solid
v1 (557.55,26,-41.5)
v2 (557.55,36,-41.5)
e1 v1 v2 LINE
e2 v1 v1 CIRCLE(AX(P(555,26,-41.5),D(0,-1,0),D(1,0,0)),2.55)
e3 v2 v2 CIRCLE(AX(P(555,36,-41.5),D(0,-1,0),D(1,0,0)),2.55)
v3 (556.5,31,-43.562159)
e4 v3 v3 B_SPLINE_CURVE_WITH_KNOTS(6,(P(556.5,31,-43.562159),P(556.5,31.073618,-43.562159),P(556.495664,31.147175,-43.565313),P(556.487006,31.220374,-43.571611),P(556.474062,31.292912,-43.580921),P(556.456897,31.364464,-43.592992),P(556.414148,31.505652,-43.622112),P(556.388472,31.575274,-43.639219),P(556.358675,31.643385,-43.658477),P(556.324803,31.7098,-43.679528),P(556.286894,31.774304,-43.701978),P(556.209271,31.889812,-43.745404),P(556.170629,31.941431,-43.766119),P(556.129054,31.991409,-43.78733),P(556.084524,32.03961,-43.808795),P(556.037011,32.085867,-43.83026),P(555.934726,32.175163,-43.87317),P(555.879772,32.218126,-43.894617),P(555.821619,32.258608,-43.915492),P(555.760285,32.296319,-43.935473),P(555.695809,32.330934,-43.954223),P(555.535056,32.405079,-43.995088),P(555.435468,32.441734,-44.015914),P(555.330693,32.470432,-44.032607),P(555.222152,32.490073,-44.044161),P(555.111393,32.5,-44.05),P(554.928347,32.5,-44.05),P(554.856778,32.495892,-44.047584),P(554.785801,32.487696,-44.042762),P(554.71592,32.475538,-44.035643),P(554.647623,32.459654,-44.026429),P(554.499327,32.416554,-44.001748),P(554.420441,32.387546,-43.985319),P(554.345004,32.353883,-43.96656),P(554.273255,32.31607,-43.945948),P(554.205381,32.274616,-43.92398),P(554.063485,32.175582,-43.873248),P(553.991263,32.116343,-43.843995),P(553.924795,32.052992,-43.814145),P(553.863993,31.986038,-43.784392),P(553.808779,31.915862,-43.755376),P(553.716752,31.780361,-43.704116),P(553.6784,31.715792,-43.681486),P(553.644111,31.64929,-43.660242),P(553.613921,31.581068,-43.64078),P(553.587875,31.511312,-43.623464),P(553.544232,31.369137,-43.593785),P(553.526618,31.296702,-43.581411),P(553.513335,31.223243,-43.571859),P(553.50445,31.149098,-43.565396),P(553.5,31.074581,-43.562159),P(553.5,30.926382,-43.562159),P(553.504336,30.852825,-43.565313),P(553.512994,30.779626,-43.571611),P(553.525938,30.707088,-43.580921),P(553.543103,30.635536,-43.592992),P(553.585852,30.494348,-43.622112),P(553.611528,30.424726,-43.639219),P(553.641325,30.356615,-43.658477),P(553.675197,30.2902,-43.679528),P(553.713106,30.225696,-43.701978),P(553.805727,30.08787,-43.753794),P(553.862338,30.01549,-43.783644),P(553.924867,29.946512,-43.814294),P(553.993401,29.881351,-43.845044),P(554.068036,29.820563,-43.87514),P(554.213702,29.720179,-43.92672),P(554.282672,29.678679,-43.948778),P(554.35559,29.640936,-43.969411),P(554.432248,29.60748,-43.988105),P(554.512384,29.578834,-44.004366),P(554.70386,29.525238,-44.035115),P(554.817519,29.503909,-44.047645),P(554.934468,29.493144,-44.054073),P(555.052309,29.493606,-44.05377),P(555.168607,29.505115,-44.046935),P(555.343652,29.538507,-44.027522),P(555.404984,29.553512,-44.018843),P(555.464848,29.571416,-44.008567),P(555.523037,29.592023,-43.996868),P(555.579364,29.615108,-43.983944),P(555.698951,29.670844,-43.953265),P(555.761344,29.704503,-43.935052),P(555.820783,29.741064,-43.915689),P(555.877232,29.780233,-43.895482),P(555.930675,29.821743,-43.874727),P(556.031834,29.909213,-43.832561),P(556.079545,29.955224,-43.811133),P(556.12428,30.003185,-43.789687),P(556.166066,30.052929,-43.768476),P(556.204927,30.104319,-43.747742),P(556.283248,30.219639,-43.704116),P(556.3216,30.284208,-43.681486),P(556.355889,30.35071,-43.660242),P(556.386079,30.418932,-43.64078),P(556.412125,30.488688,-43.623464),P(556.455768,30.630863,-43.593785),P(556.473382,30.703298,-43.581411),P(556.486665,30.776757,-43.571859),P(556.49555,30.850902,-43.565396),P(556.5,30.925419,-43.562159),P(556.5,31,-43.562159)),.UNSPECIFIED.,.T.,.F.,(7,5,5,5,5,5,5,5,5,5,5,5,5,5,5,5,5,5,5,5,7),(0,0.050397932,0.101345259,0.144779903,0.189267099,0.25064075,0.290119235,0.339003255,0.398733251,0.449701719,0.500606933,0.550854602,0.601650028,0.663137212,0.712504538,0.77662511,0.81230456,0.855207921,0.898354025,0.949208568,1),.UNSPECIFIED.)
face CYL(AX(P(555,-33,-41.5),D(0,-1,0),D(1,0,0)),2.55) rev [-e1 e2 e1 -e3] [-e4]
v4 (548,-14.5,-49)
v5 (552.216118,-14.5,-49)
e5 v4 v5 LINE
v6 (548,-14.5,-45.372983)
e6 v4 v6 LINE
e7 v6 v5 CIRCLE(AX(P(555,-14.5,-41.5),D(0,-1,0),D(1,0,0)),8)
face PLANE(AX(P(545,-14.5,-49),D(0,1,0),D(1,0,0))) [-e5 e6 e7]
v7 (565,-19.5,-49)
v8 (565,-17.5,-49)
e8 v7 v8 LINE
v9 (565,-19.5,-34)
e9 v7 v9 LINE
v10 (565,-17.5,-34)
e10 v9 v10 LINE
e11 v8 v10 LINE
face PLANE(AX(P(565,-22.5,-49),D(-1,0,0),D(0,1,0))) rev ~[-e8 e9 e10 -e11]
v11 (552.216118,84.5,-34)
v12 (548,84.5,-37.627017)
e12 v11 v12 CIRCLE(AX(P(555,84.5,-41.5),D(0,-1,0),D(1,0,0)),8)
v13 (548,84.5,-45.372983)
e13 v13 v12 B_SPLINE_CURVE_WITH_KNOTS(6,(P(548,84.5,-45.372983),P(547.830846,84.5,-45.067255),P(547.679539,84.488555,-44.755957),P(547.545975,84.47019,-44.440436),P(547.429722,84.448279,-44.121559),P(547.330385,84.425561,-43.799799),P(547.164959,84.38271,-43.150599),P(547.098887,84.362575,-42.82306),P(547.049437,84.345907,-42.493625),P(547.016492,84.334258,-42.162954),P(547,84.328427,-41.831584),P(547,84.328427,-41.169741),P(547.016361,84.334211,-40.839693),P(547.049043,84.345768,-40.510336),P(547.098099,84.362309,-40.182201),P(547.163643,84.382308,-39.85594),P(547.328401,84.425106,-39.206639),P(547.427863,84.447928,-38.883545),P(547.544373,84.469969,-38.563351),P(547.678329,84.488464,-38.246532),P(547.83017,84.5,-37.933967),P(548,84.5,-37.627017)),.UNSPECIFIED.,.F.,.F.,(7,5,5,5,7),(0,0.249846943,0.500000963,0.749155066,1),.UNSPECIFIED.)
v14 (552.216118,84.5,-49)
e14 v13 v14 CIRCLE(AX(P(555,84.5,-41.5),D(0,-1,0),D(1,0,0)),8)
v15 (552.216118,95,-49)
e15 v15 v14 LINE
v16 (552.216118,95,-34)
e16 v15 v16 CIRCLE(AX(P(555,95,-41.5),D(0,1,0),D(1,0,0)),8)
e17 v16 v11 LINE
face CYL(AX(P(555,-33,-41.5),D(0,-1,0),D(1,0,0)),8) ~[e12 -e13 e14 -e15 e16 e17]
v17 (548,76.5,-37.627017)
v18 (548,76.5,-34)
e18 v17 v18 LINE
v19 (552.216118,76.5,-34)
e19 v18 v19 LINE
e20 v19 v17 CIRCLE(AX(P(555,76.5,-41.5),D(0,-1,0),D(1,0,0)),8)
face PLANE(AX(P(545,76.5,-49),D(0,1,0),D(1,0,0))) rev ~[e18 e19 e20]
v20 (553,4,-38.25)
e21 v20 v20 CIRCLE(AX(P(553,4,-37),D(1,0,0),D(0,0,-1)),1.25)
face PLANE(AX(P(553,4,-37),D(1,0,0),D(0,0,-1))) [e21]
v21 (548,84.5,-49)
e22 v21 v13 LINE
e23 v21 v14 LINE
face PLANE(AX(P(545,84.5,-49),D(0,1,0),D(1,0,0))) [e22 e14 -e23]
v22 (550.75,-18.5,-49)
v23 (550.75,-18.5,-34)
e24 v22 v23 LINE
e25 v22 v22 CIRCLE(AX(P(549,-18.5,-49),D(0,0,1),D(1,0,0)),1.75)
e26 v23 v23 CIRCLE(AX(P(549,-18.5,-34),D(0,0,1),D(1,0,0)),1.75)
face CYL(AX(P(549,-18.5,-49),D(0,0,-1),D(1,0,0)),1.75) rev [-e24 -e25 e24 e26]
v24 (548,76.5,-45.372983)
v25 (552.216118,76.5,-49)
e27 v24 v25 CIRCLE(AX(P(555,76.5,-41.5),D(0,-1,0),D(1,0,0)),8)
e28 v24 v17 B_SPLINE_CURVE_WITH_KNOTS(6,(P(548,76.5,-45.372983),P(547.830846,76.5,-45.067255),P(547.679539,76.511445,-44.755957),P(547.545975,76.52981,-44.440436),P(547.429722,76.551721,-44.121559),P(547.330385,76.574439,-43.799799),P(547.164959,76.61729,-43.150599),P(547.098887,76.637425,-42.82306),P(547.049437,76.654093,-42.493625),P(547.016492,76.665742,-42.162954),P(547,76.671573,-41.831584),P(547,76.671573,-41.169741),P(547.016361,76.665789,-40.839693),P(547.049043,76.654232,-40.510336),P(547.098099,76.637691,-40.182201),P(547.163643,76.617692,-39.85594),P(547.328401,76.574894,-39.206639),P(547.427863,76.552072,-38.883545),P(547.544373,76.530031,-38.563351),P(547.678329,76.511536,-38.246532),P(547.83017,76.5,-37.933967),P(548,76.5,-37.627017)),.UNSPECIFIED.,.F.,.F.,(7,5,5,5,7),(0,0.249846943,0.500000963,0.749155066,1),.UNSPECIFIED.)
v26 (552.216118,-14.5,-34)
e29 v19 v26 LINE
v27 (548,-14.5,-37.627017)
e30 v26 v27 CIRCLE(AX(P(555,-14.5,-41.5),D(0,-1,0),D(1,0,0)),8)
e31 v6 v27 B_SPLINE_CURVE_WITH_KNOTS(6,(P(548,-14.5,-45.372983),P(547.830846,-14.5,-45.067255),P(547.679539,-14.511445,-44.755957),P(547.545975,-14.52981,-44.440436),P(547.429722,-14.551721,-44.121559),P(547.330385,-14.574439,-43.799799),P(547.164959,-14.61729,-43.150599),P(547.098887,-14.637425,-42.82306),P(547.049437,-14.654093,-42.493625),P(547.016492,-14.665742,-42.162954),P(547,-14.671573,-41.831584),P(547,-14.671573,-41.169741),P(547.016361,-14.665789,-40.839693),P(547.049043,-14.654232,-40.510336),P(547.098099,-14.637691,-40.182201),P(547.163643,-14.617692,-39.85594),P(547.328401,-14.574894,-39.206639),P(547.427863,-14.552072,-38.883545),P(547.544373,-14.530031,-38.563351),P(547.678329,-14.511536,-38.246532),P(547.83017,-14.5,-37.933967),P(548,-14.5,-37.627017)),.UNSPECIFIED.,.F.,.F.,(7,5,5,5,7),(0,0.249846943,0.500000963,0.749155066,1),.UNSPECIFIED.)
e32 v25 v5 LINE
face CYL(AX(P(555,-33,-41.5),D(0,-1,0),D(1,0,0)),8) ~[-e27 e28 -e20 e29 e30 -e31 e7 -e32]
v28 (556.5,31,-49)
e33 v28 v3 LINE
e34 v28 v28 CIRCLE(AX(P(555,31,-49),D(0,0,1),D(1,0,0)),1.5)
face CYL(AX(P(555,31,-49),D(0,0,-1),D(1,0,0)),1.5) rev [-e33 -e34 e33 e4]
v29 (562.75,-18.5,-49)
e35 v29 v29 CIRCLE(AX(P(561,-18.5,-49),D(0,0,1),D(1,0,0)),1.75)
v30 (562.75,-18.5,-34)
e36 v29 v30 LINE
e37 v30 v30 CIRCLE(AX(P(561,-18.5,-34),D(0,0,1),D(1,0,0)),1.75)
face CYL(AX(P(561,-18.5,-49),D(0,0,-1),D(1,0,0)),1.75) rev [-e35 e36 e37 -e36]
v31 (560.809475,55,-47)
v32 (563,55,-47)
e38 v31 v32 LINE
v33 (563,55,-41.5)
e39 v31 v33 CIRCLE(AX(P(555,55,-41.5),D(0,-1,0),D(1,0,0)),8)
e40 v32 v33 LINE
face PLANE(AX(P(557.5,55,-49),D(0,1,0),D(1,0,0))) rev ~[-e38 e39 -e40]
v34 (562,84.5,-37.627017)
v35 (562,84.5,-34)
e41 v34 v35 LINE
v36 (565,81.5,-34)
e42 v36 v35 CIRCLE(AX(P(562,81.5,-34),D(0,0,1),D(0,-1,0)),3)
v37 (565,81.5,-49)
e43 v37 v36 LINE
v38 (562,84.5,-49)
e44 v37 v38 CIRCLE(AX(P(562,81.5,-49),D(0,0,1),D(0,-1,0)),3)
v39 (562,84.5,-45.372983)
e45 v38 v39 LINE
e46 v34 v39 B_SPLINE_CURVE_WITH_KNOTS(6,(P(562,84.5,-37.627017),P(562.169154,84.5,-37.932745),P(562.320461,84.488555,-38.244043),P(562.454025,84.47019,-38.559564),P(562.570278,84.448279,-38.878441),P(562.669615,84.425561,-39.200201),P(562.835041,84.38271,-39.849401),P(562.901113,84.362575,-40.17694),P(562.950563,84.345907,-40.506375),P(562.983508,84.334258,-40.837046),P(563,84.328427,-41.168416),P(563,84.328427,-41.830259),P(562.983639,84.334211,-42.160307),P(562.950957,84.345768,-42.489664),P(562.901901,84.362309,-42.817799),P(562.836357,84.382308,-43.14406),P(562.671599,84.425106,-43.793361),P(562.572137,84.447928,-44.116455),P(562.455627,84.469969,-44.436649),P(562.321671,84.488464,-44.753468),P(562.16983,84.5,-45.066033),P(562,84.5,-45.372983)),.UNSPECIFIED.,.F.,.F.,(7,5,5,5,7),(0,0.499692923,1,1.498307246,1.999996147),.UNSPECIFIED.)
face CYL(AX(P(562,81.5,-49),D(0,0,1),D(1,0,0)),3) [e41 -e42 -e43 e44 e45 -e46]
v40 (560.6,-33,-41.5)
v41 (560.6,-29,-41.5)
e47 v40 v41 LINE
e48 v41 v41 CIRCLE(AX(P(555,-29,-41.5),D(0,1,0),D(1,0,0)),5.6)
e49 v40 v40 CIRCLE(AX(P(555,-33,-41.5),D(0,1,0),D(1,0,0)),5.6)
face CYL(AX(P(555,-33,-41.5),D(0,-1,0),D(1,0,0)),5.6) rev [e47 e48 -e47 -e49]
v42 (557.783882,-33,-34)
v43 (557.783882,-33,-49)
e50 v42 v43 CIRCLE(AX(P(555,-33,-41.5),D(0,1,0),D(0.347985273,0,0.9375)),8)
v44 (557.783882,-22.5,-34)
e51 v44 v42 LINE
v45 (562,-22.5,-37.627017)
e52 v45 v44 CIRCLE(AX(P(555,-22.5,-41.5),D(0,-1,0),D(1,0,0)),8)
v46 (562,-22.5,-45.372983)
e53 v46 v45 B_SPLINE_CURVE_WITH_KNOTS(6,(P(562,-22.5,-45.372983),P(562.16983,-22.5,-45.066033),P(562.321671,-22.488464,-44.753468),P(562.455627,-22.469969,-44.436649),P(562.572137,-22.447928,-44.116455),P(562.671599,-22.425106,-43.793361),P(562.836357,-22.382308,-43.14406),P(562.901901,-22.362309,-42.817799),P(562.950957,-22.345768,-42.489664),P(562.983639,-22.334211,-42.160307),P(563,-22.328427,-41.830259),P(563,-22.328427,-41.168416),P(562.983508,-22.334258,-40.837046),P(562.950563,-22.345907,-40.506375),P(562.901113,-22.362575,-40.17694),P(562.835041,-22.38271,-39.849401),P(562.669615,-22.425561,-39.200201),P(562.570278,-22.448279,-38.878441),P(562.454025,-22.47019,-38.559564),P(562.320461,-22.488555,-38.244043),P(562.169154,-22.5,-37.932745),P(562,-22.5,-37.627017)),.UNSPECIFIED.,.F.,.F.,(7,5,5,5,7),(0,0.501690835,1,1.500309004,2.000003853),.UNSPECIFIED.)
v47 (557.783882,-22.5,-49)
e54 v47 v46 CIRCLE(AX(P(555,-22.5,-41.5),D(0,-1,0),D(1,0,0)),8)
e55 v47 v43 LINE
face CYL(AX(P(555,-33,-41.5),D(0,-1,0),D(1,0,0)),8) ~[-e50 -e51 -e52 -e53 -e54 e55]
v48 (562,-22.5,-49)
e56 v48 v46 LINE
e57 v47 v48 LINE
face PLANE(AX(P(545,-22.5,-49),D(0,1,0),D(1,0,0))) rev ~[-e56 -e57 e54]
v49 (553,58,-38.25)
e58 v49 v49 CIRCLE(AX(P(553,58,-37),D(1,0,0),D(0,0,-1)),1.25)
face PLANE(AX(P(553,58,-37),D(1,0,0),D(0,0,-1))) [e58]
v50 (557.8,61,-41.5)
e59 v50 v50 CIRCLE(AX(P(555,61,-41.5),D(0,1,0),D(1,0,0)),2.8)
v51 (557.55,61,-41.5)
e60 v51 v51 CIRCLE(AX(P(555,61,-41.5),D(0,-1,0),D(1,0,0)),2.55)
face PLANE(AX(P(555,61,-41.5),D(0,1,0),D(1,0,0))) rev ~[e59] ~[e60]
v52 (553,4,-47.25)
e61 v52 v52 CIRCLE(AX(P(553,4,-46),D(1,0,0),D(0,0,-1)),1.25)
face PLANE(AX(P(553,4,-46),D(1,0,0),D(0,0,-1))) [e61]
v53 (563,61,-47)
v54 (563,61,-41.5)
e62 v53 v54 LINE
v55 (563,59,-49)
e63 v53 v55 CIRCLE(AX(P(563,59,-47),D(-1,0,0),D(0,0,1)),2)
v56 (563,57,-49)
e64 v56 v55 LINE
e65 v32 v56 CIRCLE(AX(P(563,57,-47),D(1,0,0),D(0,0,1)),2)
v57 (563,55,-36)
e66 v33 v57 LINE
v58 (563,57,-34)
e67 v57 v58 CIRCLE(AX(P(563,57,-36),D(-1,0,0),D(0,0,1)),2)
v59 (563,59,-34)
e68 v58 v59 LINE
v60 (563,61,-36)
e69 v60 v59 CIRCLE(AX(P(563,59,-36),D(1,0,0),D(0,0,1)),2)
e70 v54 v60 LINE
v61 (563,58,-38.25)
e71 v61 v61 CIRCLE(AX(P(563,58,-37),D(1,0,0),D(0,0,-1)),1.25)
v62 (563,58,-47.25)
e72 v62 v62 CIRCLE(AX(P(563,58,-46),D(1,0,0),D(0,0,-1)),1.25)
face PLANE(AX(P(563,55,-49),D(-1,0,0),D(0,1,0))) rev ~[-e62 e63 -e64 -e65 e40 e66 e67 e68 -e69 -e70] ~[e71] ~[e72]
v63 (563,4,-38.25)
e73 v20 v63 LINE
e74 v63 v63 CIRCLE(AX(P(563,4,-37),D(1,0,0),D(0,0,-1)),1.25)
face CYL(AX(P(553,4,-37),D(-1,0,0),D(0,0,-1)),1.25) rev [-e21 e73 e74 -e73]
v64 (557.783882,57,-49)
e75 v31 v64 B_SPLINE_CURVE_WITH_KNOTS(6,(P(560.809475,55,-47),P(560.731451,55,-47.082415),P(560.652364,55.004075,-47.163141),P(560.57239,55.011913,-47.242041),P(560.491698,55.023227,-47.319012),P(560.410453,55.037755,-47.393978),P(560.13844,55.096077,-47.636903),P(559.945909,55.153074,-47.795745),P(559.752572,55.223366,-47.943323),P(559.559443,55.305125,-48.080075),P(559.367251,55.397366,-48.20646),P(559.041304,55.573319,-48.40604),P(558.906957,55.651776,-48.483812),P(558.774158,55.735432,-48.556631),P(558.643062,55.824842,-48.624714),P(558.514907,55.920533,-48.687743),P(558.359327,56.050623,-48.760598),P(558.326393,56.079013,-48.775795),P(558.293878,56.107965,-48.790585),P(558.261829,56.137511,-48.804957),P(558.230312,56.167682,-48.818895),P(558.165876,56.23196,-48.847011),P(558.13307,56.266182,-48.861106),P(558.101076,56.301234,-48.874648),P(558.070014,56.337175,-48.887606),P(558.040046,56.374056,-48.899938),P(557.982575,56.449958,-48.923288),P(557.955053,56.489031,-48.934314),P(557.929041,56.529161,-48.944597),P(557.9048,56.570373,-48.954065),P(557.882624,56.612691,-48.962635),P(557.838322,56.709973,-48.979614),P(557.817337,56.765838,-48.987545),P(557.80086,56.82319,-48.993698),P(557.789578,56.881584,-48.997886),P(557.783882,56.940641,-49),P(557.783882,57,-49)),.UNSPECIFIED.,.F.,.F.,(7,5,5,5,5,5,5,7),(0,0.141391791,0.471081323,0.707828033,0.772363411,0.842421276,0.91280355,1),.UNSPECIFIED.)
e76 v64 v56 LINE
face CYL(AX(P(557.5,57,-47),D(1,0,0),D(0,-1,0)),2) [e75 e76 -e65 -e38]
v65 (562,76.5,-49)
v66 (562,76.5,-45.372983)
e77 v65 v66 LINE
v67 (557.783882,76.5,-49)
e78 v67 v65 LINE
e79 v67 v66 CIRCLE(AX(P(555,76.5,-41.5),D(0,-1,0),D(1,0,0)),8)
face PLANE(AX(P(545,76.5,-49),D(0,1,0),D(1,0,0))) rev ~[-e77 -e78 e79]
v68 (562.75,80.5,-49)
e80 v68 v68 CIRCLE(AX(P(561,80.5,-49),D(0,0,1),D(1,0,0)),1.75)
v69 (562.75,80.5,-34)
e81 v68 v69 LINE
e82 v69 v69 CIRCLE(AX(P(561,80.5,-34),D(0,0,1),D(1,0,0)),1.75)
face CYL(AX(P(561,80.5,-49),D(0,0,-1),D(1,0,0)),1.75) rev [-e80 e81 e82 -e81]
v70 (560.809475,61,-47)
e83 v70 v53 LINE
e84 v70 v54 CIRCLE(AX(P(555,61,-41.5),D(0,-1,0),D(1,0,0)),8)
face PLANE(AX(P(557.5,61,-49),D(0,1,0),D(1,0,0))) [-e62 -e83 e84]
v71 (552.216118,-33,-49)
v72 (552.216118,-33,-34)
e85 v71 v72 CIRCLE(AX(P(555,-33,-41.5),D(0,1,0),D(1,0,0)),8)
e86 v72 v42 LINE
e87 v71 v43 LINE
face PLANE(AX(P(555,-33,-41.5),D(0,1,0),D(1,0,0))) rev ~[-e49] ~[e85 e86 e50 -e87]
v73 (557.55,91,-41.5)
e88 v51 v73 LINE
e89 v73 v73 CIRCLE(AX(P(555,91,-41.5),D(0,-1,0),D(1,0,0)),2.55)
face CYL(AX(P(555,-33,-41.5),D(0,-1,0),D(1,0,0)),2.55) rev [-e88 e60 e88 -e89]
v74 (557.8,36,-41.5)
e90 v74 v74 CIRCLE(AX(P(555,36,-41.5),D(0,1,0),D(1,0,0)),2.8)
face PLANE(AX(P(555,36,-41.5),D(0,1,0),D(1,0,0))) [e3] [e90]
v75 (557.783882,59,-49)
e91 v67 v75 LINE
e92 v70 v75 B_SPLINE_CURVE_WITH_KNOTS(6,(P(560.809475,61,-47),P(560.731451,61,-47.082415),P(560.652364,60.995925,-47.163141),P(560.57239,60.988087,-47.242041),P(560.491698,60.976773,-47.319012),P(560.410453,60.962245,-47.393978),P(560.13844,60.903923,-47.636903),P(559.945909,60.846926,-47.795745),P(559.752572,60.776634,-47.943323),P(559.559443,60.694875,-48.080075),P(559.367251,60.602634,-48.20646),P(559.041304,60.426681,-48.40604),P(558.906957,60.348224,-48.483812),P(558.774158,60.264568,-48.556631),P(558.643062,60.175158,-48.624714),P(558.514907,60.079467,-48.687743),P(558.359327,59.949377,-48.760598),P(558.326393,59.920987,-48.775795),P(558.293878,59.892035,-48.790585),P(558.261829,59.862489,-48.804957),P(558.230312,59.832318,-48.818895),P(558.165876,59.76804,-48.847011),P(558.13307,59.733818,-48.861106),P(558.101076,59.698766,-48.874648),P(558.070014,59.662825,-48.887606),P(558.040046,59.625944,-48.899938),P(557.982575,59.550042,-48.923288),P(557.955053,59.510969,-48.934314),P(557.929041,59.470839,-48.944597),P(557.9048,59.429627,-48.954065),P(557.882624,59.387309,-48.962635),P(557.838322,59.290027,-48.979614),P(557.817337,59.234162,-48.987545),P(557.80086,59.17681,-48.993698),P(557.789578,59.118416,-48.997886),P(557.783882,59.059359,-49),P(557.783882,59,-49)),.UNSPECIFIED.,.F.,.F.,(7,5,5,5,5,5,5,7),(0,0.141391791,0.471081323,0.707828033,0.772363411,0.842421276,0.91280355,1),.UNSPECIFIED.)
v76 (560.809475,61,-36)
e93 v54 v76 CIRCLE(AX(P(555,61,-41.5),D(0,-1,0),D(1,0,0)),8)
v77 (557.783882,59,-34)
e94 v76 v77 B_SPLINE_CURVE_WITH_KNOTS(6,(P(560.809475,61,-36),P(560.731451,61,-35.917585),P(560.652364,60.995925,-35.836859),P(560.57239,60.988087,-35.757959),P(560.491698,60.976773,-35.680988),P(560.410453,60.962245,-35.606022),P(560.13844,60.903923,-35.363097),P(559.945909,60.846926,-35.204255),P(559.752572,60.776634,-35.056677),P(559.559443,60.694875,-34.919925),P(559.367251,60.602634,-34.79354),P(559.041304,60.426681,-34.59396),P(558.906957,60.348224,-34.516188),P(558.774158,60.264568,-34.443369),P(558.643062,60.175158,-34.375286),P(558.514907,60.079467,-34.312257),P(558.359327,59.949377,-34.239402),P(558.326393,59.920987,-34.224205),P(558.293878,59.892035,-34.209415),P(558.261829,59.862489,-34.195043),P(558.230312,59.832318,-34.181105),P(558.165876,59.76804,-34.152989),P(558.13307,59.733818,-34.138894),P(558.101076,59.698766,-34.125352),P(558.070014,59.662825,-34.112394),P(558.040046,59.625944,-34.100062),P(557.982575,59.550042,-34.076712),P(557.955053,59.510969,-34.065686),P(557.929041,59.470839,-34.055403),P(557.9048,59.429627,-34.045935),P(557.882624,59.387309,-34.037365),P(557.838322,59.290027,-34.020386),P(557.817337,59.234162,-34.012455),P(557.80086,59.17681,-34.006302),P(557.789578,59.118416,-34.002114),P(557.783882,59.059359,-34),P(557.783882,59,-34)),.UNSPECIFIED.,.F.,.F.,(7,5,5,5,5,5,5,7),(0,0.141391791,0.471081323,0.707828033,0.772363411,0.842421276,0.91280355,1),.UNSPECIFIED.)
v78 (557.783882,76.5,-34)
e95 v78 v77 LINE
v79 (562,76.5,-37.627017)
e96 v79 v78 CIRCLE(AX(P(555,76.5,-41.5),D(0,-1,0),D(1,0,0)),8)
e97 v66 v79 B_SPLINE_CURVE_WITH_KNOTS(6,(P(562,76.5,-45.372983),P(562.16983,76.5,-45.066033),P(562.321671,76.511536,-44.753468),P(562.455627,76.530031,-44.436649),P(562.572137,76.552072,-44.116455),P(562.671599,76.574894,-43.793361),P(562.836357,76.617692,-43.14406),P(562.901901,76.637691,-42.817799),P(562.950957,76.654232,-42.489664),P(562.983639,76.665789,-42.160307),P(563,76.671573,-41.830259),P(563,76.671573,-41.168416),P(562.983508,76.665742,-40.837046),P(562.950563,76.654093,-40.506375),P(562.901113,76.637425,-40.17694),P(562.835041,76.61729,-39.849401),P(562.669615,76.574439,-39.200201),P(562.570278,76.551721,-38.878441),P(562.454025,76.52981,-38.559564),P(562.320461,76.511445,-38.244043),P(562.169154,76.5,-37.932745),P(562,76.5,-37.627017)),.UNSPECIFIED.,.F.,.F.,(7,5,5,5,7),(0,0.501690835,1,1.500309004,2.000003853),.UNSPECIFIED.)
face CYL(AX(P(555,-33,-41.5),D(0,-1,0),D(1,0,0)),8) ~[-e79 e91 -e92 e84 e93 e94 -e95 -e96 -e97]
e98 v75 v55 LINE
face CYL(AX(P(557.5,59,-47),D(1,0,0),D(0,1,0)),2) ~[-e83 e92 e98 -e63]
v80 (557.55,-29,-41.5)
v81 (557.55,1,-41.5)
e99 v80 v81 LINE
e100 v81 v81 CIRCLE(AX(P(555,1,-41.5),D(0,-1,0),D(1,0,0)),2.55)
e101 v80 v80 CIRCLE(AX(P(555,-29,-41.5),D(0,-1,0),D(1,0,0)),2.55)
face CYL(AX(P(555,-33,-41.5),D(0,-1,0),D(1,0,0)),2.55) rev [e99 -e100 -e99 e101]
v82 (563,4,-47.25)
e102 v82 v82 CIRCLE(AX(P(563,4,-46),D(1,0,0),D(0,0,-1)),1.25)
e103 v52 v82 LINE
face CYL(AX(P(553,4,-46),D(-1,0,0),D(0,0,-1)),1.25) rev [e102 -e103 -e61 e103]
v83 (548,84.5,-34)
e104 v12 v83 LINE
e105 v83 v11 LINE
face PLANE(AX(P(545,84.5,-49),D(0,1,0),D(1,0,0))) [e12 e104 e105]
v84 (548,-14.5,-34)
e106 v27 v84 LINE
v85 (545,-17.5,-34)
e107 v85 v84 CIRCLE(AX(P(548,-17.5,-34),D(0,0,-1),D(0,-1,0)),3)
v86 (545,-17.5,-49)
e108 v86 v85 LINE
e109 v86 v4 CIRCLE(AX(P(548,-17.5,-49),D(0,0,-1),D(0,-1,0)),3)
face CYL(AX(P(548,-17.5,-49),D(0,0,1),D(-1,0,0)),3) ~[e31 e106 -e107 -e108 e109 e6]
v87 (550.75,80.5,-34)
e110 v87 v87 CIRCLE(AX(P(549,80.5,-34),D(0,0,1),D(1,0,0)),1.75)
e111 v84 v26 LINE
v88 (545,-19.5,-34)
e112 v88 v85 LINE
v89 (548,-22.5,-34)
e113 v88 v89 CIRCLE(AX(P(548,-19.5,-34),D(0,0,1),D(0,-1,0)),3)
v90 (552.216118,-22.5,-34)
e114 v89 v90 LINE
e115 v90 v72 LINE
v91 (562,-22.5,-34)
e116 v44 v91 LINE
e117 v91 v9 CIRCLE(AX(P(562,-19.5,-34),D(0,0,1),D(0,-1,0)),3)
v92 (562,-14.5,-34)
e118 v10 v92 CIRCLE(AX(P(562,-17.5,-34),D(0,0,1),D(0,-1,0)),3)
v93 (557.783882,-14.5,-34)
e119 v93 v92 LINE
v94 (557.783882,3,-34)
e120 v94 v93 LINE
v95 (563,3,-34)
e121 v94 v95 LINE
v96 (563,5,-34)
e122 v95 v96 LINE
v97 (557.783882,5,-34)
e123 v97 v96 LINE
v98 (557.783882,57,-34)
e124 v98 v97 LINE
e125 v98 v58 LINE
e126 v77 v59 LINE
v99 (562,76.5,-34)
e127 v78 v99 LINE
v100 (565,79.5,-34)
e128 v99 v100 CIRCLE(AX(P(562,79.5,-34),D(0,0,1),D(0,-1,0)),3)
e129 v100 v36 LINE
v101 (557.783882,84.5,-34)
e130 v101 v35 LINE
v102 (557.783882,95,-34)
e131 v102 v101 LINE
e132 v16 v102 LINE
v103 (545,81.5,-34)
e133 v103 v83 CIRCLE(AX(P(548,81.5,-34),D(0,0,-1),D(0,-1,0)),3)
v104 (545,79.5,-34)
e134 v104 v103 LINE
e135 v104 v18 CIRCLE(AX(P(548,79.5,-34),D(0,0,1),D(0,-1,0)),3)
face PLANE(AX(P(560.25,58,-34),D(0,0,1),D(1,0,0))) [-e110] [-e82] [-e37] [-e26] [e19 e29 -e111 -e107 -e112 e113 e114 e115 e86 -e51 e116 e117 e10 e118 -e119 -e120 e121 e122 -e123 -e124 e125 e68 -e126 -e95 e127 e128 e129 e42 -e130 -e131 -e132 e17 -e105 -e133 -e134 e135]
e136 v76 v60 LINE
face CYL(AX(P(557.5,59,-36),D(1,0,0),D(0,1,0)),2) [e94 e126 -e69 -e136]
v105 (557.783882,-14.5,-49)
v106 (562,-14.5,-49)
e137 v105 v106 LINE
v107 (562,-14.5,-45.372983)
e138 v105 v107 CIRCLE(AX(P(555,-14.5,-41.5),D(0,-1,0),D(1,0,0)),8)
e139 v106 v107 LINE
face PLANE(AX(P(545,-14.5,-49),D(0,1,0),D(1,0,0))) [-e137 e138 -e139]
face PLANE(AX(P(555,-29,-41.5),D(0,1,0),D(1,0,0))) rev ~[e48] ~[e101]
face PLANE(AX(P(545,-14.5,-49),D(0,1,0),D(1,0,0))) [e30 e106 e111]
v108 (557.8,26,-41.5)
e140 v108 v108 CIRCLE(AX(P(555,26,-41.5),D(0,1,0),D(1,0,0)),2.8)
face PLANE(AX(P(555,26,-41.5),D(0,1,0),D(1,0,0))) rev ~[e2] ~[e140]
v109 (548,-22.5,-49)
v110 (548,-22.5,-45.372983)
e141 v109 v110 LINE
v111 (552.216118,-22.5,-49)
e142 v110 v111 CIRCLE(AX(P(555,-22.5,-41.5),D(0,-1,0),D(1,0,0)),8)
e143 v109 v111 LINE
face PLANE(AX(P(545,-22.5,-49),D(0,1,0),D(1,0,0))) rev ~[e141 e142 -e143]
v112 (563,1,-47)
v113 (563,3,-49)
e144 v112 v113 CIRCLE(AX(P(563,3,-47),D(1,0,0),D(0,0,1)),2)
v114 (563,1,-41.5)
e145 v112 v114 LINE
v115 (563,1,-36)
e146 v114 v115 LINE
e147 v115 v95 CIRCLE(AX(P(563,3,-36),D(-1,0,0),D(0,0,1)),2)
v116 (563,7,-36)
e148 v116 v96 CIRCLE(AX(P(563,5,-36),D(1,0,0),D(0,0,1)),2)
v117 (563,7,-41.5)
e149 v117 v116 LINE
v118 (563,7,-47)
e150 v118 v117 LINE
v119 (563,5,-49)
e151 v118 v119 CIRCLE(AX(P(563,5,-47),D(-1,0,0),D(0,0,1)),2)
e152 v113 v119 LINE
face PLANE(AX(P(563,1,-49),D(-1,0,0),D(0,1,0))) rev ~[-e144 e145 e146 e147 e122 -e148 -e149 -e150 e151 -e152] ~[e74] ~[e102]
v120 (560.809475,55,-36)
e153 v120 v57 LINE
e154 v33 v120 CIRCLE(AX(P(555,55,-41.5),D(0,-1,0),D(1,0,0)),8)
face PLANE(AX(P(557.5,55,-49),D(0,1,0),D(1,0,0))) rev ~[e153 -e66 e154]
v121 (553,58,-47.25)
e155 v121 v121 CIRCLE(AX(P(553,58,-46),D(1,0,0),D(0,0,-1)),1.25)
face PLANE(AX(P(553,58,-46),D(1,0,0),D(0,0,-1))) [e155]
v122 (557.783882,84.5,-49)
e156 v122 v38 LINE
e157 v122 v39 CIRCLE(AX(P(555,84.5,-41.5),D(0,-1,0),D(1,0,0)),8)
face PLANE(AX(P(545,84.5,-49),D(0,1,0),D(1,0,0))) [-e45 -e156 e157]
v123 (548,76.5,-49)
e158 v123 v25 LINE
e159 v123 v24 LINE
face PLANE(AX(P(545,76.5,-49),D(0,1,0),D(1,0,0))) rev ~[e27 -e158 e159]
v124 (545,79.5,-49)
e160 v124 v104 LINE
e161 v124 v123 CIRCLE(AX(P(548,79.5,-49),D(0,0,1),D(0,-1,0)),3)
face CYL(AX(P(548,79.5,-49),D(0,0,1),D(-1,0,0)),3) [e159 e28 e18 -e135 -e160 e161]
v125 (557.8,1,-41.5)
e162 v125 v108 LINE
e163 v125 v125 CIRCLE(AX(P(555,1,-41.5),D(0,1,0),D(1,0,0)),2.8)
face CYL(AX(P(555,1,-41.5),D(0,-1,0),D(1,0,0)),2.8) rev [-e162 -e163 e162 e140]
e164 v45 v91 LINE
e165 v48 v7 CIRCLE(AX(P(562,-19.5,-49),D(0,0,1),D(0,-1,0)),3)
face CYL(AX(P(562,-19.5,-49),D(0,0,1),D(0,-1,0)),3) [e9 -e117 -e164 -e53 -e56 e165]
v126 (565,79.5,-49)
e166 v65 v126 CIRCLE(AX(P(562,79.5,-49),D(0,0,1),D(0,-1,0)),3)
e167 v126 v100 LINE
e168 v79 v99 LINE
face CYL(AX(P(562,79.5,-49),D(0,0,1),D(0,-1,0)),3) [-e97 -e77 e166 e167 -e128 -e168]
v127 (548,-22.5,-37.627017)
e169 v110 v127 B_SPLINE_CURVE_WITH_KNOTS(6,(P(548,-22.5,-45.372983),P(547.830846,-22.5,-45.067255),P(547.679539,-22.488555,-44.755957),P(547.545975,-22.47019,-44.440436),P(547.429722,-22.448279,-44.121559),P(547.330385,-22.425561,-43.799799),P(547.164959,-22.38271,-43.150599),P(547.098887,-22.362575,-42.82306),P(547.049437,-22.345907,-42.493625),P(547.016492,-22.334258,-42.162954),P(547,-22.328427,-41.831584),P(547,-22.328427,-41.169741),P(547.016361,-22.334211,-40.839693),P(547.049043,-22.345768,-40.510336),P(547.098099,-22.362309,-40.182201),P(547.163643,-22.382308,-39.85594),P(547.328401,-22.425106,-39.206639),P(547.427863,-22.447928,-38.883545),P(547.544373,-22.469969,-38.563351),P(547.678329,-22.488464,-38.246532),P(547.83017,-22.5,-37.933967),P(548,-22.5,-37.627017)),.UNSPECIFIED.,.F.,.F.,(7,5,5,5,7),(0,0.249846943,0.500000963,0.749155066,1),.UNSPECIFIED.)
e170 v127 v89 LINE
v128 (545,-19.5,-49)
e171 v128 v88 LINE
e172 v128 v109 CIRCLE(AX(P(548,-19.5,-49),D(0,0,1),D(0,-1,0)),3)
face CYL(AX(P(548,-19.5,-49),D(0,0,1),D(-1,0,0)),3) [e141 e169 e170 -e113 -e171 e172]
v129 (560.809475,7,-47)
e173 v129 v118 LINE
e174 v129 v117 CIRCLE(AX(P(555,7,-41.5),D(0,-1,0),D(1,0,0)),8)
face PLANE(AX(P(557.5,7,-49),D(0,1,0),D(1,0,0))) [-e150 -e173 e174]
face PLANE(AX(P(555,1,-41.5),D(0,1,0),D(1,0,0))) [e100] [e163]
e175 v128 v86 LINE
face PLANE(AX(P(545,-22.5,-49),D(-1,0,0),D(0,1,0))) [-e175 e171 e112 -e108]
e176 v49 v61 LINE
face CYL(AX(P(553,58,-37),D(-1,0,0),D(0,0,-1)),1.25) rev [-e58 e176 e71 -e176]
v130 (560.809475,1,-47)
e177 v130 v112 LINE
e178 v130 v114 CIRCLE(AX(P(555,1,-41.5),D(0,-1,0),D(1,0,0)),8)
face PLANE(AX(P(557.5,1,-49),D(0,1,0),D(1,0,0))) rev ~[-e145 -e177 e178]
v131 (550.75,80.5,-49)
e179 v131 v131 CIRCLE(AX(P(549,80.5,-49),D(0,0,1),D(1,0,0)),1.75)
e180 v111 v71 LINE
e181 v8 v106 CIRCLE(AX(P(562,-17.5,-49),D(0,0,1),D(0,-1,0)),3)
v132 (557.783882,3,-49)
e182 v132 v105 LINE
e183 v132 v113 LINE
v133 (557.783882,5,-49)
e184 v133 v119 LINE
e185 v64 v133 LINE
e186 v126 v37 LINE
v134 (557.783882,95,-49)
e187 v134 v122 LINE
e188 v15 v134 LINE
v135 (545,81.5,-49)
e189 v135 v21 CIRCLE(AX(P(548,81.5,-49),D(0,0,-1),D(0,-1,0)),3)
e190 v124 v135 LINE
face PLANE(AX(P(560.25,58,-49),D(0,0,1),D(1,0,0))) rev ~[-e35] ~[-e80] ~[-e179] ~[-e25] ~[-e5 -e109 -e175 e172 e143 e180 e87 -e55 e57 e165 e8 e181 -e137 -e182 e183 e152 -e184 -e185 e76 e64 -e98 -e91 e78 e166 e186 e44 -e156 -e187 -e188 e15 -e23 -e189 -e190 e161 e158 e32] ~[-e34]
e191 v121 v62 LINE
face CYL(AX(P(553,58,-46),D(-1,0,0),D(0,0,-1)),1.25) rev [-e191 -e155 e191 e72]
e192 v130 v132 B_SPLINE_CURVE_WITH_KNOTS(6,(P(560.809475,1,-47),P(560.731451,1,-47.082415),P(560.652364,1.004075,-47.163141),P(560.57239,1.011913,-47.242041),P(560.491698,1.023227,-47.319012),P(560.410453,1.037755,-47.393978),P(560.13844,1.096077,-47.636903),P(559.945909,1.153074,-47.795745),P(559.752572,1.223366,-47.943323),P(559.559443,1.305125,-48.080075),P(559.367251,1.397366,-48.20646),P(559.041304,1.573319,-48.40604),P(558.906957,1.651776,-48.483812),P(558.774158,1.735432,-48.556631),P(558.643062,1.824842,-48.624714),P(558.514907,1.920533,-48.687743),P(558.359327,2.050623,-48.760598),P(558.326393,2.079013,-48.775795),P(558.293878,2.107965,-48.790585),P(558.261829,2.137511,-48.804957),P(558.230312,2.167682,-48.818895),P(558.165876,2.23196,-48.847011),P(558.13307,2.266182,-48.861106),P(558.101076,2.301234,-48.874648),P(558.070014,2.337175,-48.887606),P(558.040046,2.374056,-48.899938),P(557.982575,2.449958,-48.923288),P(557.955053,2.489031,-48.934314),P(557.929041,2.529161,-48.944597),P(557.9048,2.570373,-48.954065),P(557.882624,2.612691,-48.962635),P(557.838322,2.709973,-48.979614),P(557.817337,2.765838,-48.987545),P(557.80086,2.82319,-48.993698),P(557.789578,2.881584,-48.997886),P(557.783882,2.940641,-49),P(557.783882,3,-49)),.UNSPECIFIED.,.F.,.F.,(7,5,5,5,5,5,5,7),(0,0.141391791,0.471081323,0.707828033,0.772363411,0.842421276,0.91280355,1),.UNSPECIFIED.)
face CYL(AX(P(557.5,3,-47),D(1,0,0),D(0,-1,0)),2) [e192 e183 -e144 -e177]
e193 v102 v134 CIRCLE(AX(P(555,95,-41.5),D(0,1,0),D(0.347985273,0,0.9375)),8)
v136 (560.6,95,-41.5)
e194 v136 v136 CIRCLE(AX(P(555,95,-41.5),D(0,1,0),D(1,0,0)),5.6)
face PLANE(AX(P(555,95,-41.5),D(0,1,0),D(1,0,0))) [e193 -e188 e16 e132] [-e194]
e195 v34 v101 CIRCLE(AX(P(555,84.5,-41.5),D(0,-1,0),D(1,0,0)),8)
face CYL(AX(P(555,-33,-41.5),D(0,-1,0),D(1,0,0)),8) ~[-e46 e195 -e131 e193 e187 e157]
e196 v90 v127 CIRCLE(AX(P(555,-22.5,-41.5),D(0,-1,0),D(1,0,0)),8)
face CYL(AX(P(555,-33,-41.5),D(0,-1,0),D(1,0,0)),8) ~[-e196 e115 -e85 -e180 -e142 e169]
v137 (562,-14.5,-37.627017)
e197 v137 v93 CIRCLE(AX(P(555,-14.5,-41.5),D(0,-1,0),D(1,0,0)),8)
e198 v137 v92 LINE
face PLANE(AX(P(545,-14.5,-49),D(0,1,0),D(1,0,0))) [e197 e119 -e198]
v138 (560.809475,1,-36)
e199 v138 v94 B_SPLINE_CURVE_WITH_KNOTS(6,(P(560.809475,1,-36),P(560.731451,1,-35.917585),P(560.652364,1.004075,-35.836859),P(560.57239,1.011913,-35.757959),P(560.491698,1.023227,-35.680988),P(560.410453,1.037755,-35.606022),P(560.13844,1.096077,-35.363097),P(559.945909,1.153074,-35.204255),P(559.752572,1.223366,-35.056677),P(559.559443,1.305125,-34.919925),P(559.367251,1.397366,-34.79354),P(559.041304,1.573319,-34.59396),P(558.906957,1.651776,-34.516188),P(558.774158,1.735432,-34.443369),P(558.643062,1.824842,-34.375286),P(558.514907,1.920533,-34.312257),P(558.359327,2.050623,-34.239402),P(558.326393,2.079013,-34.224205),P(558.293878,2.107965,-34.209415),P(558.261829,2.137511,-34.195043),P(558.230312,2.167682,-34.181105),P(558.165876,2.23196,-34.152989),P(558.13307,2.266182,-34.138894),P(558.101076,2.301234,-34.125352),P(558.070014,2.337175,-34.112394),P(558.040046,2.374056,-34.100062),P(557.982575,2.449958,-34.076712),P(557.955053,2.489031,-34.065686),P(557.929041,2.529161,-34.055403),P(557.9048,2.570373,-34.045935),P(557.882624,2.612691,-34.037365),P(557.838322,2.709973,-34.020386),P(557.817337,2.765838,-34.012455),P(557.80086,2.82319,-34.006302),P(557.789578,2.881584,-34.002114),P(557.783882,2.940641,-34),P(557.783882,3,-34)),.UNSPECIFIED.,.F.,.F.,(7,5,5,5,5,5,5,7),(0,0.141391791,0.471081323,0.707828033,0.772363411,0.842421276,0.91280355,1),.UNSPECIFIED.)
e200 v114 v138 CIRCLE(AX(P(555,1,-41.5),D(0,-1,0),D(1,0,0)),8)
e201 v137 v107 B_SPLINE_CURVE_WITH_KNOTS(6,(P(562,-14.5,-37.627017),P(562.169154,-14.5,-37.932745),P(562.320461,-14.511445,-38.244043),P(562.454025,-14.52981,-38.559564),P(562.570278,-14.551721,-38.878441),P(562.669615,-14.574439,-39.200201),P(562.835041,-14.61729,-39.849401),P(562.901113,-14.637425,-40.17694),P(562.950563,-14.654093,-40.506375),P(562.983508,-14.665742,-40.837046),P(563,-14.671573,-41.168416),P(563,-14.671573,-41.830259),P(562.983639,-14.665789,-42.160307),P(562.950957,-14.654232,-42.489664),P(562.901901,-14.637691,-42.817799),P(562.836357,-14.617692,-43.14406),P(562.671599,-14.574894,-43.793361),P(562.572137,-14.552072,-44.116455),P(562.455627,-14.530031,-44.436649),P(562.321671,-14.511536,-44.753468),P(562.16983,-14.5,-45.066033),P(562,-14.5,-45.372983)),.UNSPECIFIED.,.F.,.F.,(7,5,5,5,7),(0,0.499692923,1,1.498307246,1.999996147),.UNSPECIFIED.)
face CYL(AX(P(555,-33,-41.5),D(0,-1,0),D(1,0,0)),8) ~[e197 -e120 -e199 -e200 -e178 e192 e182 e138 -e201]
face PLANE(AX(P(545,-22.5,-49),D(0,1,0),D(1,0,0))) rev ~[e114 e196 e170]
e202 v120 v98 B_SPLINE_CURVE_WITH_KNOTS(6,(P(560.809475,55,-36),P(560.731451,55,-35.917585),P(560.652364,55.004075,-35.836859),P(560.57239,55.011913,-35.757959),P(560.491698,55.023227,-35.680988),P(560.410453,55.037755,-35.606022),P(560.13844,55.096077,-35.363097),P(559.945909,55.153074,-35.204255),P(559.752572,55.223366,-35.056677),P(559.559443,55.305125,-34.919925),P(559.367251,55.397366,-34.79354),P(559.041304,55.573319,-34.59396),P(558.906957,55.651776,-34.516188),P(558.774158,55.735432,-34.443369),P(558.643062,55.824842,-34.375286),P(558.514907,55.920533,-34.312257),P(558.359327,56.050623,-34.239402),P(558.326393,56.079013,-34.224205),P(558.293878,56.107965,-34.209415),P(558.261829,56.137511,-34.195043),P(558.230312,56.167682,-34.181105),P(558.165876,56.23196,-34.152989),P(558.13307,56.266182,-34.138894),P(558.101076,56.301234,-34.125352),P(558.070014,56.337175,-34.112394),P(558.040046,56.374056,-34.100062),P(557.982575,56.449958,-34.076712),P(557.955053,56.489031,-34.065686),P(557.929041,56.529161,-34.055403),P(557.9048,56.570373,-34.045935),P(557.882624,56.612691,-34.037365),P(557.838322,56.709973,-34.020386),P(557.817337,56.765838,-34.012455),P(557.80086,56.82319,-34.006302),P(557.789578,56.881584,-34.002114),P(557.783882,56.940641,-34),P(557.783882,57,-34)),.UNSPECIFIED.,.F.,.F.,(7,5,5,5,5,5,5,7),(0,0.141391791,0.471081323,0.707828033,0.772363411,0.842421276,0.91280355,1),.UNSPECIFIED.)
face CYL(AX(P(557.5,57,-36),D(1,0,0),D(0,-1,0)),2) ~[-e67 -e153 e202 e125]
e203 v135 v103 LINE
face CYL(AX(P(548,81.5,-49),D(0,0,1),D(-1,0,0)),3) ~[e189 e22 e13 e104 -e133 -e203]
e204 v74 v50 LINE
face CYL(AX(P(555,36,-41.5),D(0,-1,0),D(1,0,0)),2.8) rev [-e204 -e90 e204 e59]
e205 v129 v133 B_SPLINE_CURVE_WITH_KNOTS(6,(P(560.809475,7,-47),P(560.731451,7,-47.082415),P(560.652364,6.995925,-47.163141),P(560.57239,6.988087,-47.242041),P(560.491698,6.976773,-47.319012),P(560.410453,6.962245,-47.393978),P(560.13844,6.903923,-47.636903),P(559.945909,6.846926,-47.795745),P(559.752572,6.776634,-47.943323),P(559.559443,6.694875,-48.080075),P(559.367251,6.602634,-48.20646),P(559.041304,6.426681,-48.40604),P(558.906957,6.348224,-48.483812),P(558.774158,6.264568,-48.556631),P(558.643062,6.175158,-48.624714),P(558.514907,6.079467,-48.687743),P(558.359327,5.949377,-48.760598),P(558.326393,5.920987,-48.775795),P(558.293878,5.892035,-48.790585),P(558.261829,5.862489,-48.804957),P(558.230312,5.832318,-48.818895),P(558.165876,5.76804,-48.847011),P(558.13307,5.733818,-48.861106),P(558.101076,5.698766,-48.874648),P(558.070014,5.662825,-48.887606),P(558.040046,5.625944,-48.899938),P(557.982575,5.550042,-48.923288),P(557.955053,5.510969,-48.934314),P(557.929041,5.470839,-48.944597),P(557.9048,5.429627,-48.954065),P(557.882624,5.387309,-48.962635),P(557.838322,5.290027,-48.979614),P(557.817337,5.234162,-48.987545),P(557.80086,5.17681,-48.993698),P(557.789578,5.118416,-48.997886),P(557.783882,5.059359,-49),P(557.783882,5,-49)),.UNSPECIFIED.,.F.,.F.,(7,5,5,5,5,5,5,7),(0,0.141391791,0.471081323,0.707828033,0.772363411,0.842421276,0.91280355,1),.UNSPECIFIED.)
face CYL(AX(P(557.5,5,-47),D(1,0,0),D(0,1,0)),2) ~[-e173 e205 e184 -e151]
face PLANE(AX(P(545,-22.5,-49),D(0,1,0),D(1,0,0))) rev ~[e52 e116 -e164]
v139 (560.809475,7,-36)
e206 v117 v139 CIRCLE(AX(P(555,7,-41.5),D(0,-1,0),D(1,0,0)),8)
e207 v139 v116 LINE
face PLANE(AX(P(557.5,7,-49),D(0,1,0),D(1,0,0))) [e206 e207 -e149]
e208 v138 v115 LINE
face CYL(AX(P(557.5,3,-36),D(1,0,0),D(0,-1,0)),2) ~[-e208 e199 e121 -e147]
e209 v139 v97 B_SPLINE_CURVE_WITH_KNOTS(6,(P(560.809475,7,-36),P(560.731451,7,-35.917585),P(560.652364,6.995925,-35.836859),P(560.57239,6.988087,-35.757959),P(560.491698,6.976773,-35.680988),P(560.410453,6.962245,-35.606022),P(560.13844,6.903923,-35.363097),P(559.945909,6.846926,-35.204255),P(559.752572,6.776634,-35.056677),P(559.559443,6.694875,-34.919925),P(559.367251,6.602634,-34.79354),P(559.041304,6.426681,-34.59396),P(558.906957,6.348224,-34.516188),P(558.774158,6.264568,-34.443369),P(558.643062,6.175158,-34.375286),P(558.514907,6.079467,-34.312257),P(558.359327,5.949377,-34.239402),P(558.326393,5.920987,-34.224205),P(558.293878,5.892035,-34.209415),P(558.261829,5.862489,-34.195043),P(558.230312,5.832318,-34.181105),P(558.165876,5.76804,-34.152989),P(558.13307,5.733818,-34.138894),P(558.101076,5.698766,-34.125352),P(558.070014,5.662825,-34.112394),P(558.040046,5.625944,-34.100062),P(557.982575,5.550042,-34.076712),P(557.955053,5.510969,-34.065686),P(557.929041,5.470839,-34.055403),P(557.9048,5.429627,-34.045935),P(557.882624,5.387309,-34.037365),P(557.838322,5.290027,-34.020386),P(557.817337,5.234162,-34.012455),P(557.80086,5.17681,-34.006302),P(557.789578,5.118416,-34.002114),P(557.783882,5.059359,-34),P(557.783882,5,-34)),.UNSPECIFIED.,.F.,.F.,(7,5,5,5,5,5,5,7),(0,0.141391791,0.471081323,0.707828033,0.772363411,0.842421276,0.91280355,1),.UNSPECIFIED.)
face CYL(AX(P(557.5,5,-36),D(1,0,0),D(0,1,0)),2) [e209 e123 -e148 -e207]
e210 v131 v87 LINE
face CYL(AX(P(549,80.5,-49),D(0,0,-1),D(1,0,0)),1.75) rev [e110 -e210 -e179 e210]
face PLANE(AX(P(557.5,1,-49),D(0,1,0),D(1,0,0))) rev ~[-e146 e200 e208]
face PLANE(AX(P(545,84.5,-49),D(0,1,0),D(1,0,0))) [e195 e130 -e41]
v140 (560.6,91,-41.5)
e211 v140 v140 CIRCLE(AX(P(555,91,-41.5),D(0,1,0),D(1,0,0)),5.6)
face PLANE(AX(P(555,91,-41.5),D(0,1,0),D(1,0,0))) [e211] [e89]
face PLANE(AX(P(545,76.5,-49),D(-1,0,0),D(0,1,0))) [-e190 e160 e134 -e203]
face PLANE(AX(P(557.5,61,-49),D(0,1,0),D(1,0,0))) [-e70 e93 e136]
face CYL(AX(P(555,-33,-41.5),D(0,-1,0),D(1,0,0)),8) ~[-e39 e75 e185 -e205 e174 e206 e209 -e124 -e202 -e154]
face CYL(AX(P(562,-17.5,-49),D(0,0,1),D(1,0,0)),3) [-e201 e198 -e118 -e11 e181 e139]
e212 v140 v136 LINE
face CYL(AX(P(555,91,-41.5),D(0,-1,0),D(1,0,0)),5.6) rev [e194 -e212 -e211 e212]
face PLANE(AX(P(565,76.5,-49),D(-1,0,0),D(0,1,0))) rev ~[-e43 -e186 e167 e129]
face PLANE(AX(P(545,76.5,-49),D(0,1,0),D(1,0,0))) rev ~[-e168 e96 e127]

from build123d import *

# Parameters (mm, degrees)
CYLINDER563_R     = 1.5
CYLINDER563_DEPTH = 6
BOX350_W          = 20
BOX350_H          = 128
BOX350_DEPTH      = 1
BOX349_W          = 20
BOX349_H          = 128
BOX349_DEPTH      = 1
CYLINDER556_R     = 2.8
CYLINDER556_DEPTH = 25
CYLINDER557_R     = 2.8
CYLINDER557_DEPTH = 25
CYLINDER565_R     = 1.75
CYLINDER565_DEPTH = 15
CYLINDER564_R     = 1.75
CYLINDER564_DEPTH = 15
CYLINDER551_R     = 1.75
CYLINDER551_DEPTH = 15
CYLINDER552_R     = 1.75
CYLINDER552_DEPTH = 15
CYLINDER558_R     = 1.25
CYLINDER558_DEPTH = 10
CYLINDER559_R     = 1.25
CYLINDER559_DEPTH = 10
CYLINDER560_R     = 1.25
CYLINDER560_DEPTH = 10
CYLINDER561_R     = 1.25
CYLINDER561_DEPTH = 10
CYLINDER555_R     = 5.6
CYLINDER555_DEPTH = 4
CYLINDER562_R     = 5.6
CYLINDER562_DEPTH = 4
CYLINDER554_R     = 2.55
CYLINDER554_DEPTH = 128
BOX347_W          = 5.5
BOX347_H          = 6
BOX347_DEPTH      = 15
BOX348_W          = 5.5
BOX348_H          = 6
BOX348_DEPTH      = 15
FILLET135_R       = 2
BOX346_W          = 20
BOX346_H          = 8
BOX346_DEPTH      = 15
FILLET134_R       = 3
BOX345_W          = 20
BOX345_H          = 8
BOX345_DEPTH      = 15
FILLET133_R       = 3
CYLINDER553_R     = 8
CYLINDER553_DEPTH = 128


with BuildPart() as cylinder658:
    # Cylinder563 → Cylinder563 (new body)
    with BuildSketch(Plane.XY.offset(-7.5)):
        Circle(CYLINDER563_R)
    extrude(amount=CYLINDER563_DEPTH)


with BuildPart() as cube421:
    # Box350 → Box350 (new body)
    with BuildSketch(Plane(origin=(-10, -64, 7.5), x_dir=(1, 0, 0), z_dir=(0, 0, 1))):
        with Locations((10, 64)):
            Rectangle(BOX350_W, BOX350_H)
    extrude(amount=BOX350_DEPTH)


with BuildPart() as fusion482:
    # Box349 → Box349 (new body)
    with BuildSketch(Plane(origin=(-10, -64, -8.5), x_dir=(1, 0, 0), z_dir=(0, 0, 1))):
        with Locations((10, 64)):
            Rectangle(BOX349_W, BOX349_H)
    extrude(amount=BOX349_DEPTH)

    # Fusion482: union Cube421
    add(cube421.part)


with BuildPart() as cylinder651:
    # Cylinder556 → Cylinder556 (new body)
    with BuildSketch(Plane(origin=(0, -30, 0), x_dir=(1, 0, 0), z_dir=(0, 1, 0))):
        Circle(CYLINDER556_R)
    extrude(amount=CYLINDER556_DEPTH)


with BuildPart() as fusion473:
    # Cylinder557 → Cylinder557 (new body)
    with BuildSketch(Plane(origin=(0, 5, 0), x_dir=(1, 0, 0), z_dir=(0, 1, 0))):
        Circle(CYLINDER557_R)
    extrude(amount=CYLINDER557_DEPTH)

    # Fusion473: union Cylinder651
    add(cylinder651.part)


with BuildPart() as cylinder660:
    # Cylinder565 → Cylinder565 (new body)
    with BuildSketch(Plane(origin=(13.5, -49.5, 13), x_dir=(1, 0, 0), z_dir=(0, 0, 1))):
        Circle(CYLINDER565_R)
    extrude(amount=CYLINDER565_DEPTH)


with BuildPart() as fusion483:
    # Cylinder564 → Cylinder564 (new body)
    with BuildSketch(Plane(origin=(13.5, 49.5, 13), x_dir=(1, 0, 0), z_dir=(0, 0, 1))):
        Circle(CYLINDER564_R)
    extrude(amount=CYLINDER564_DEPTH)

    # Fusion483: union Cylinder660
    add(cylinder660.part)


with BuildPart() as cylinder646:
    # Cylinder551 → Cylinder551 (new body)
    with BuildSketch(Plane(origin=(13.5, -49.5, 13), x_dir=(1, 0, 0), z_dir=(0, 0, 1))):
        Circle(CYLINDER551_R)
    extrude(amount=CYLINDER551_DEPTH)


with BuildPart() as fusion472:
    # Cylinder552 → Cylinder552 (new body)
    with BuildSketch(Plane(origin=(13.5, 49.5, 13), x_dir=(1, 0, 0), z_dir=(0, 0, 1))):
        Circle(CYLINDER552_R)
    extrude(amount=CYLINDER552_DEPTH)

    # Fusion471: union Cylinder646
    add(cylinder646.part)


with BuildPart() as fusion472_1:
    # Fusion471 placement: moved
    add(fusion472.part.moved(Location((-12, 0, 0))))

    # Fusion472: union Fusion483
    add(fusion483.part)


with BuildPart() as fusion472_2:
    # Fusion472 placement: moved
    add(fusion472_1.part.moved(Location((-7.5, 0, -20.5))))


with BuildPart() as cylinder653:
    # Cylinder558 → Cylinder558 (new body)
    with BuildSketch(Plane(origin=(0, -27, 4.5), x_dir=(0, 0, -1), z_dir=(1, 0, 0))):
        Circle(CYLINDER558_R)
    extrude(amount=CYLINDER558_DEPTH)


with BuildPart() as fusion476:
    # Cylinder559 → Cylinder559 (new body)
    with BuildSketch(Plane(origin=(0, -27, -4.5), x_dir=(0, 0, -1), z_dir=(1, 0, 0))):
        Circle(CYLINDER559_R)
    extrude(amount=CYLINDER559_DEPTH)

    # Fusion476: union Cylinder653
    add(cylinder653.part)


with BuildPart() as cylinder655:
    # Cylinder560 → Cylinder560 (new body)
    with BuildSketch(Plane(origin=(0, -27, 4.5), x_dir=(0, 0, -1), z_dir=(1, 0, 0))):
        Circle(CYLINDER560_R)
    extrude(amount=CYLINDER560_DEPTH)


with BuildPart() as fusion478:
    # Cylinder561 → Cylinder561 (new body)
    with BuildSketch(Plane(origin=(0, -27, -4.5), x_dir=(0, 0, -1), z_dir=(1, 0, 0))):
        Circle(CYLINDER561_R)
    extrude(amount=CYLINDER561_DEPTH)

    # Fusion477: union Cylinder655
    add(cylinder655.part)


with BuildPart() as fusion478_1:
    # Fusion477 placement: moved
    add(fusion478.part.moved(Location((0, 54, 0))))

    # Fusion478: union Fusion476
    add(fusion476.part)


with BuildPart() as fusion478_2:
    # Fusion478 placement: moved
    add(fusion478_1.part.moved(Location((-2, 0, 0))))


with BuildPart() as cylinder650:
    # Cylinder555 → Cylinder555 (new body)
    with BuildSketch(Plane(origin=(0, -64, 0), x_dir=(1, 0, 0), z_dir=(0, 1, 0))):
        Circle(CYLINDER555_R)
    extrude(amount=CYLINDER555_DEPTH)


with BuildPart() as fusion479:
    # Cylinder562 → Cylinder562 (new body)
    with BuildSketch(Plane(origin=(0, 60, 0), x_dir=(1, 0, 0), z_dir=(0, 1, 0))):
        Circle(CYLINDER562_R)
    extrude(amount=CYLINDER562_DEPTH)

    # Fusion479: union Cylinder650
    add(cylinder650.part)


with BuildPart() as fusion480:
    # Cylinder554 → Cylinder554 (new body)
    with BuildSketch(Plane(origin=(0, -64, 0), x_dir=(1, 0, 0), z_dir=(0, 1, 0))):
        Circle(CYLINDER554_R)
    extrude(amount=CYLINDER554_DEPTH)

    # Fusion480: union Fusion479
    add(fusion479.part)


with BuildPart() as cube418:
    # Box347 → Box347 (new body)
    with BuildSketch(Plane(origin=(2.5, -30, -7.5), x_dir=(1, 0, 0), z_dir=(0, 0, 1))):
        with Locations((2.75, 3)):
            Rectangle(BOX347_W, BOX347_H)
    extrude(amount=BOX347_DEPTH)


with BuildPart() as fillet135:
    # Box348 → Box348 (new body)
    with BuildSketch(Plane(origin=(2.5, 24, -7.5), x_dir=(1, 0, 0), z_dir=(0, 0, 1))):
        with Locations((2.75, 3)):
            Rectangle(BOX348_W, BOX348_H)
    extrude(amount=BOX348_DEPTH)

    # Fusion474: union Cube418
    add(cube418.part)

    # Fillet135
    fillet135_edges = [fillet135.edges().sort_by_distance(p)[0] for p in [
        (5.25, 24, -7.5),
        (5.25, 24, 7.5),
        (5.25, 30, -7.5),
        (5.25, 30, 7.5),
        (5.25, -30, -7.5),
        (5.25, -30, 7.5),
        (5.25, -24, -7.5),
        (5.25, -24, 7.5),
    ]]
    fillet(fillet135_edges, radius=FILLET135_R)


with BuildPart() as fillet134:
    # Box346 → Box346 (new body)
    with BuildSketch(Plane(origin=(-10, -53.5, -7.5), x_dir=(1, 0, 0), z_dir=(0, 0, 1))):
        with Locations((10, 4)):
            Rectangle(BOX346_W, BOX346_H)
    extrude(amount=BOX346_DEPTH)

    # Fillet134
    fillet134_edges = [fillet134.edges().sort_by_distance(p)[0] for p in [
        (-10, -53.5, 0),
        (-10, -45.5, 0),
        (10, -53.5, 0),
        (10, -45.5, 0),
    ]]
    fillet(fillet134_edges, radius=FILLET134_R)


with BuildPart() as fillet133:
    # Box345 → Box345 (new body)
    with BuildSketch(Plane(origin=(-10, -53.5, -7.5), x_dir=(1, 0, 0), z_dir=(0, 0, 1))):
        with Locations((10, 4)):
            Rectangle(BOX345_W, BOX345_H)
    extrude(amount=BOX345_DEPTH)

    # Fillet133
    fillet133_edges = [fillet133.edges().sort_by_distance(p)[0] for p in [
        (-10, -53.5, 0),
        (-10, -45.5, 0),
        (10, -53.5, 0),
        (10, -45.5, 0),
    ]]
    fillet(fillet133_edges, radius=FILLET133_R)


with BuildPart() as fillet133_1:
    # Fillet133 placement: moved
    add(fillet133.part.moved(Location((0, 99, 0))))


with BuildPart() as axle_rear_wide:
    # Cylinder553 → Cylinder553 (new body)
    with BuildSketch(Plane(origin=(0, -64, 0), x_dir=(1, 0, 0), z_dir=(0, 1, 0))):
        Circle(CYLINDER553_R)
    extrude(amount=CYLINDER553_DEPTH)

    # Fusion481: union Fillet134, Fillet133
    add(fillet134.part)
    add(fillet133_1.part)

    # Fusion475: union Fillet135
    add(fillet135.part)

    # Cut361: cut Fusion480
    add(fusion480.part, mode=Mode.SUBTRACT)

    # Cut362: cut Fusion478
    add(fusion478_2.part, mode=Mode.SUBTRACT)

    # Cut363: cut Fusion472
    add(fusion472_2.part, mode=Mode.SUBTRACT)

    # Cut364: cut Fusion473
    add(fusion473.part, mode=Mode.SUBTRACT)

    # Cut365: cut Fusion482
    add(fusion482.part, mode=Mode.SUBTRACT)

    # Cut366: cut Cylinder658
    add(cylinder658.part, mode=Mode.SUBTRACT)


with BuildPart() as axle_rear_wide_1:
    # Cut366 placement: moved
    add(axle_rear_wide.part.moved(Location((555, 31, -41.5))))


solid = axle_rear_wide_1.part
